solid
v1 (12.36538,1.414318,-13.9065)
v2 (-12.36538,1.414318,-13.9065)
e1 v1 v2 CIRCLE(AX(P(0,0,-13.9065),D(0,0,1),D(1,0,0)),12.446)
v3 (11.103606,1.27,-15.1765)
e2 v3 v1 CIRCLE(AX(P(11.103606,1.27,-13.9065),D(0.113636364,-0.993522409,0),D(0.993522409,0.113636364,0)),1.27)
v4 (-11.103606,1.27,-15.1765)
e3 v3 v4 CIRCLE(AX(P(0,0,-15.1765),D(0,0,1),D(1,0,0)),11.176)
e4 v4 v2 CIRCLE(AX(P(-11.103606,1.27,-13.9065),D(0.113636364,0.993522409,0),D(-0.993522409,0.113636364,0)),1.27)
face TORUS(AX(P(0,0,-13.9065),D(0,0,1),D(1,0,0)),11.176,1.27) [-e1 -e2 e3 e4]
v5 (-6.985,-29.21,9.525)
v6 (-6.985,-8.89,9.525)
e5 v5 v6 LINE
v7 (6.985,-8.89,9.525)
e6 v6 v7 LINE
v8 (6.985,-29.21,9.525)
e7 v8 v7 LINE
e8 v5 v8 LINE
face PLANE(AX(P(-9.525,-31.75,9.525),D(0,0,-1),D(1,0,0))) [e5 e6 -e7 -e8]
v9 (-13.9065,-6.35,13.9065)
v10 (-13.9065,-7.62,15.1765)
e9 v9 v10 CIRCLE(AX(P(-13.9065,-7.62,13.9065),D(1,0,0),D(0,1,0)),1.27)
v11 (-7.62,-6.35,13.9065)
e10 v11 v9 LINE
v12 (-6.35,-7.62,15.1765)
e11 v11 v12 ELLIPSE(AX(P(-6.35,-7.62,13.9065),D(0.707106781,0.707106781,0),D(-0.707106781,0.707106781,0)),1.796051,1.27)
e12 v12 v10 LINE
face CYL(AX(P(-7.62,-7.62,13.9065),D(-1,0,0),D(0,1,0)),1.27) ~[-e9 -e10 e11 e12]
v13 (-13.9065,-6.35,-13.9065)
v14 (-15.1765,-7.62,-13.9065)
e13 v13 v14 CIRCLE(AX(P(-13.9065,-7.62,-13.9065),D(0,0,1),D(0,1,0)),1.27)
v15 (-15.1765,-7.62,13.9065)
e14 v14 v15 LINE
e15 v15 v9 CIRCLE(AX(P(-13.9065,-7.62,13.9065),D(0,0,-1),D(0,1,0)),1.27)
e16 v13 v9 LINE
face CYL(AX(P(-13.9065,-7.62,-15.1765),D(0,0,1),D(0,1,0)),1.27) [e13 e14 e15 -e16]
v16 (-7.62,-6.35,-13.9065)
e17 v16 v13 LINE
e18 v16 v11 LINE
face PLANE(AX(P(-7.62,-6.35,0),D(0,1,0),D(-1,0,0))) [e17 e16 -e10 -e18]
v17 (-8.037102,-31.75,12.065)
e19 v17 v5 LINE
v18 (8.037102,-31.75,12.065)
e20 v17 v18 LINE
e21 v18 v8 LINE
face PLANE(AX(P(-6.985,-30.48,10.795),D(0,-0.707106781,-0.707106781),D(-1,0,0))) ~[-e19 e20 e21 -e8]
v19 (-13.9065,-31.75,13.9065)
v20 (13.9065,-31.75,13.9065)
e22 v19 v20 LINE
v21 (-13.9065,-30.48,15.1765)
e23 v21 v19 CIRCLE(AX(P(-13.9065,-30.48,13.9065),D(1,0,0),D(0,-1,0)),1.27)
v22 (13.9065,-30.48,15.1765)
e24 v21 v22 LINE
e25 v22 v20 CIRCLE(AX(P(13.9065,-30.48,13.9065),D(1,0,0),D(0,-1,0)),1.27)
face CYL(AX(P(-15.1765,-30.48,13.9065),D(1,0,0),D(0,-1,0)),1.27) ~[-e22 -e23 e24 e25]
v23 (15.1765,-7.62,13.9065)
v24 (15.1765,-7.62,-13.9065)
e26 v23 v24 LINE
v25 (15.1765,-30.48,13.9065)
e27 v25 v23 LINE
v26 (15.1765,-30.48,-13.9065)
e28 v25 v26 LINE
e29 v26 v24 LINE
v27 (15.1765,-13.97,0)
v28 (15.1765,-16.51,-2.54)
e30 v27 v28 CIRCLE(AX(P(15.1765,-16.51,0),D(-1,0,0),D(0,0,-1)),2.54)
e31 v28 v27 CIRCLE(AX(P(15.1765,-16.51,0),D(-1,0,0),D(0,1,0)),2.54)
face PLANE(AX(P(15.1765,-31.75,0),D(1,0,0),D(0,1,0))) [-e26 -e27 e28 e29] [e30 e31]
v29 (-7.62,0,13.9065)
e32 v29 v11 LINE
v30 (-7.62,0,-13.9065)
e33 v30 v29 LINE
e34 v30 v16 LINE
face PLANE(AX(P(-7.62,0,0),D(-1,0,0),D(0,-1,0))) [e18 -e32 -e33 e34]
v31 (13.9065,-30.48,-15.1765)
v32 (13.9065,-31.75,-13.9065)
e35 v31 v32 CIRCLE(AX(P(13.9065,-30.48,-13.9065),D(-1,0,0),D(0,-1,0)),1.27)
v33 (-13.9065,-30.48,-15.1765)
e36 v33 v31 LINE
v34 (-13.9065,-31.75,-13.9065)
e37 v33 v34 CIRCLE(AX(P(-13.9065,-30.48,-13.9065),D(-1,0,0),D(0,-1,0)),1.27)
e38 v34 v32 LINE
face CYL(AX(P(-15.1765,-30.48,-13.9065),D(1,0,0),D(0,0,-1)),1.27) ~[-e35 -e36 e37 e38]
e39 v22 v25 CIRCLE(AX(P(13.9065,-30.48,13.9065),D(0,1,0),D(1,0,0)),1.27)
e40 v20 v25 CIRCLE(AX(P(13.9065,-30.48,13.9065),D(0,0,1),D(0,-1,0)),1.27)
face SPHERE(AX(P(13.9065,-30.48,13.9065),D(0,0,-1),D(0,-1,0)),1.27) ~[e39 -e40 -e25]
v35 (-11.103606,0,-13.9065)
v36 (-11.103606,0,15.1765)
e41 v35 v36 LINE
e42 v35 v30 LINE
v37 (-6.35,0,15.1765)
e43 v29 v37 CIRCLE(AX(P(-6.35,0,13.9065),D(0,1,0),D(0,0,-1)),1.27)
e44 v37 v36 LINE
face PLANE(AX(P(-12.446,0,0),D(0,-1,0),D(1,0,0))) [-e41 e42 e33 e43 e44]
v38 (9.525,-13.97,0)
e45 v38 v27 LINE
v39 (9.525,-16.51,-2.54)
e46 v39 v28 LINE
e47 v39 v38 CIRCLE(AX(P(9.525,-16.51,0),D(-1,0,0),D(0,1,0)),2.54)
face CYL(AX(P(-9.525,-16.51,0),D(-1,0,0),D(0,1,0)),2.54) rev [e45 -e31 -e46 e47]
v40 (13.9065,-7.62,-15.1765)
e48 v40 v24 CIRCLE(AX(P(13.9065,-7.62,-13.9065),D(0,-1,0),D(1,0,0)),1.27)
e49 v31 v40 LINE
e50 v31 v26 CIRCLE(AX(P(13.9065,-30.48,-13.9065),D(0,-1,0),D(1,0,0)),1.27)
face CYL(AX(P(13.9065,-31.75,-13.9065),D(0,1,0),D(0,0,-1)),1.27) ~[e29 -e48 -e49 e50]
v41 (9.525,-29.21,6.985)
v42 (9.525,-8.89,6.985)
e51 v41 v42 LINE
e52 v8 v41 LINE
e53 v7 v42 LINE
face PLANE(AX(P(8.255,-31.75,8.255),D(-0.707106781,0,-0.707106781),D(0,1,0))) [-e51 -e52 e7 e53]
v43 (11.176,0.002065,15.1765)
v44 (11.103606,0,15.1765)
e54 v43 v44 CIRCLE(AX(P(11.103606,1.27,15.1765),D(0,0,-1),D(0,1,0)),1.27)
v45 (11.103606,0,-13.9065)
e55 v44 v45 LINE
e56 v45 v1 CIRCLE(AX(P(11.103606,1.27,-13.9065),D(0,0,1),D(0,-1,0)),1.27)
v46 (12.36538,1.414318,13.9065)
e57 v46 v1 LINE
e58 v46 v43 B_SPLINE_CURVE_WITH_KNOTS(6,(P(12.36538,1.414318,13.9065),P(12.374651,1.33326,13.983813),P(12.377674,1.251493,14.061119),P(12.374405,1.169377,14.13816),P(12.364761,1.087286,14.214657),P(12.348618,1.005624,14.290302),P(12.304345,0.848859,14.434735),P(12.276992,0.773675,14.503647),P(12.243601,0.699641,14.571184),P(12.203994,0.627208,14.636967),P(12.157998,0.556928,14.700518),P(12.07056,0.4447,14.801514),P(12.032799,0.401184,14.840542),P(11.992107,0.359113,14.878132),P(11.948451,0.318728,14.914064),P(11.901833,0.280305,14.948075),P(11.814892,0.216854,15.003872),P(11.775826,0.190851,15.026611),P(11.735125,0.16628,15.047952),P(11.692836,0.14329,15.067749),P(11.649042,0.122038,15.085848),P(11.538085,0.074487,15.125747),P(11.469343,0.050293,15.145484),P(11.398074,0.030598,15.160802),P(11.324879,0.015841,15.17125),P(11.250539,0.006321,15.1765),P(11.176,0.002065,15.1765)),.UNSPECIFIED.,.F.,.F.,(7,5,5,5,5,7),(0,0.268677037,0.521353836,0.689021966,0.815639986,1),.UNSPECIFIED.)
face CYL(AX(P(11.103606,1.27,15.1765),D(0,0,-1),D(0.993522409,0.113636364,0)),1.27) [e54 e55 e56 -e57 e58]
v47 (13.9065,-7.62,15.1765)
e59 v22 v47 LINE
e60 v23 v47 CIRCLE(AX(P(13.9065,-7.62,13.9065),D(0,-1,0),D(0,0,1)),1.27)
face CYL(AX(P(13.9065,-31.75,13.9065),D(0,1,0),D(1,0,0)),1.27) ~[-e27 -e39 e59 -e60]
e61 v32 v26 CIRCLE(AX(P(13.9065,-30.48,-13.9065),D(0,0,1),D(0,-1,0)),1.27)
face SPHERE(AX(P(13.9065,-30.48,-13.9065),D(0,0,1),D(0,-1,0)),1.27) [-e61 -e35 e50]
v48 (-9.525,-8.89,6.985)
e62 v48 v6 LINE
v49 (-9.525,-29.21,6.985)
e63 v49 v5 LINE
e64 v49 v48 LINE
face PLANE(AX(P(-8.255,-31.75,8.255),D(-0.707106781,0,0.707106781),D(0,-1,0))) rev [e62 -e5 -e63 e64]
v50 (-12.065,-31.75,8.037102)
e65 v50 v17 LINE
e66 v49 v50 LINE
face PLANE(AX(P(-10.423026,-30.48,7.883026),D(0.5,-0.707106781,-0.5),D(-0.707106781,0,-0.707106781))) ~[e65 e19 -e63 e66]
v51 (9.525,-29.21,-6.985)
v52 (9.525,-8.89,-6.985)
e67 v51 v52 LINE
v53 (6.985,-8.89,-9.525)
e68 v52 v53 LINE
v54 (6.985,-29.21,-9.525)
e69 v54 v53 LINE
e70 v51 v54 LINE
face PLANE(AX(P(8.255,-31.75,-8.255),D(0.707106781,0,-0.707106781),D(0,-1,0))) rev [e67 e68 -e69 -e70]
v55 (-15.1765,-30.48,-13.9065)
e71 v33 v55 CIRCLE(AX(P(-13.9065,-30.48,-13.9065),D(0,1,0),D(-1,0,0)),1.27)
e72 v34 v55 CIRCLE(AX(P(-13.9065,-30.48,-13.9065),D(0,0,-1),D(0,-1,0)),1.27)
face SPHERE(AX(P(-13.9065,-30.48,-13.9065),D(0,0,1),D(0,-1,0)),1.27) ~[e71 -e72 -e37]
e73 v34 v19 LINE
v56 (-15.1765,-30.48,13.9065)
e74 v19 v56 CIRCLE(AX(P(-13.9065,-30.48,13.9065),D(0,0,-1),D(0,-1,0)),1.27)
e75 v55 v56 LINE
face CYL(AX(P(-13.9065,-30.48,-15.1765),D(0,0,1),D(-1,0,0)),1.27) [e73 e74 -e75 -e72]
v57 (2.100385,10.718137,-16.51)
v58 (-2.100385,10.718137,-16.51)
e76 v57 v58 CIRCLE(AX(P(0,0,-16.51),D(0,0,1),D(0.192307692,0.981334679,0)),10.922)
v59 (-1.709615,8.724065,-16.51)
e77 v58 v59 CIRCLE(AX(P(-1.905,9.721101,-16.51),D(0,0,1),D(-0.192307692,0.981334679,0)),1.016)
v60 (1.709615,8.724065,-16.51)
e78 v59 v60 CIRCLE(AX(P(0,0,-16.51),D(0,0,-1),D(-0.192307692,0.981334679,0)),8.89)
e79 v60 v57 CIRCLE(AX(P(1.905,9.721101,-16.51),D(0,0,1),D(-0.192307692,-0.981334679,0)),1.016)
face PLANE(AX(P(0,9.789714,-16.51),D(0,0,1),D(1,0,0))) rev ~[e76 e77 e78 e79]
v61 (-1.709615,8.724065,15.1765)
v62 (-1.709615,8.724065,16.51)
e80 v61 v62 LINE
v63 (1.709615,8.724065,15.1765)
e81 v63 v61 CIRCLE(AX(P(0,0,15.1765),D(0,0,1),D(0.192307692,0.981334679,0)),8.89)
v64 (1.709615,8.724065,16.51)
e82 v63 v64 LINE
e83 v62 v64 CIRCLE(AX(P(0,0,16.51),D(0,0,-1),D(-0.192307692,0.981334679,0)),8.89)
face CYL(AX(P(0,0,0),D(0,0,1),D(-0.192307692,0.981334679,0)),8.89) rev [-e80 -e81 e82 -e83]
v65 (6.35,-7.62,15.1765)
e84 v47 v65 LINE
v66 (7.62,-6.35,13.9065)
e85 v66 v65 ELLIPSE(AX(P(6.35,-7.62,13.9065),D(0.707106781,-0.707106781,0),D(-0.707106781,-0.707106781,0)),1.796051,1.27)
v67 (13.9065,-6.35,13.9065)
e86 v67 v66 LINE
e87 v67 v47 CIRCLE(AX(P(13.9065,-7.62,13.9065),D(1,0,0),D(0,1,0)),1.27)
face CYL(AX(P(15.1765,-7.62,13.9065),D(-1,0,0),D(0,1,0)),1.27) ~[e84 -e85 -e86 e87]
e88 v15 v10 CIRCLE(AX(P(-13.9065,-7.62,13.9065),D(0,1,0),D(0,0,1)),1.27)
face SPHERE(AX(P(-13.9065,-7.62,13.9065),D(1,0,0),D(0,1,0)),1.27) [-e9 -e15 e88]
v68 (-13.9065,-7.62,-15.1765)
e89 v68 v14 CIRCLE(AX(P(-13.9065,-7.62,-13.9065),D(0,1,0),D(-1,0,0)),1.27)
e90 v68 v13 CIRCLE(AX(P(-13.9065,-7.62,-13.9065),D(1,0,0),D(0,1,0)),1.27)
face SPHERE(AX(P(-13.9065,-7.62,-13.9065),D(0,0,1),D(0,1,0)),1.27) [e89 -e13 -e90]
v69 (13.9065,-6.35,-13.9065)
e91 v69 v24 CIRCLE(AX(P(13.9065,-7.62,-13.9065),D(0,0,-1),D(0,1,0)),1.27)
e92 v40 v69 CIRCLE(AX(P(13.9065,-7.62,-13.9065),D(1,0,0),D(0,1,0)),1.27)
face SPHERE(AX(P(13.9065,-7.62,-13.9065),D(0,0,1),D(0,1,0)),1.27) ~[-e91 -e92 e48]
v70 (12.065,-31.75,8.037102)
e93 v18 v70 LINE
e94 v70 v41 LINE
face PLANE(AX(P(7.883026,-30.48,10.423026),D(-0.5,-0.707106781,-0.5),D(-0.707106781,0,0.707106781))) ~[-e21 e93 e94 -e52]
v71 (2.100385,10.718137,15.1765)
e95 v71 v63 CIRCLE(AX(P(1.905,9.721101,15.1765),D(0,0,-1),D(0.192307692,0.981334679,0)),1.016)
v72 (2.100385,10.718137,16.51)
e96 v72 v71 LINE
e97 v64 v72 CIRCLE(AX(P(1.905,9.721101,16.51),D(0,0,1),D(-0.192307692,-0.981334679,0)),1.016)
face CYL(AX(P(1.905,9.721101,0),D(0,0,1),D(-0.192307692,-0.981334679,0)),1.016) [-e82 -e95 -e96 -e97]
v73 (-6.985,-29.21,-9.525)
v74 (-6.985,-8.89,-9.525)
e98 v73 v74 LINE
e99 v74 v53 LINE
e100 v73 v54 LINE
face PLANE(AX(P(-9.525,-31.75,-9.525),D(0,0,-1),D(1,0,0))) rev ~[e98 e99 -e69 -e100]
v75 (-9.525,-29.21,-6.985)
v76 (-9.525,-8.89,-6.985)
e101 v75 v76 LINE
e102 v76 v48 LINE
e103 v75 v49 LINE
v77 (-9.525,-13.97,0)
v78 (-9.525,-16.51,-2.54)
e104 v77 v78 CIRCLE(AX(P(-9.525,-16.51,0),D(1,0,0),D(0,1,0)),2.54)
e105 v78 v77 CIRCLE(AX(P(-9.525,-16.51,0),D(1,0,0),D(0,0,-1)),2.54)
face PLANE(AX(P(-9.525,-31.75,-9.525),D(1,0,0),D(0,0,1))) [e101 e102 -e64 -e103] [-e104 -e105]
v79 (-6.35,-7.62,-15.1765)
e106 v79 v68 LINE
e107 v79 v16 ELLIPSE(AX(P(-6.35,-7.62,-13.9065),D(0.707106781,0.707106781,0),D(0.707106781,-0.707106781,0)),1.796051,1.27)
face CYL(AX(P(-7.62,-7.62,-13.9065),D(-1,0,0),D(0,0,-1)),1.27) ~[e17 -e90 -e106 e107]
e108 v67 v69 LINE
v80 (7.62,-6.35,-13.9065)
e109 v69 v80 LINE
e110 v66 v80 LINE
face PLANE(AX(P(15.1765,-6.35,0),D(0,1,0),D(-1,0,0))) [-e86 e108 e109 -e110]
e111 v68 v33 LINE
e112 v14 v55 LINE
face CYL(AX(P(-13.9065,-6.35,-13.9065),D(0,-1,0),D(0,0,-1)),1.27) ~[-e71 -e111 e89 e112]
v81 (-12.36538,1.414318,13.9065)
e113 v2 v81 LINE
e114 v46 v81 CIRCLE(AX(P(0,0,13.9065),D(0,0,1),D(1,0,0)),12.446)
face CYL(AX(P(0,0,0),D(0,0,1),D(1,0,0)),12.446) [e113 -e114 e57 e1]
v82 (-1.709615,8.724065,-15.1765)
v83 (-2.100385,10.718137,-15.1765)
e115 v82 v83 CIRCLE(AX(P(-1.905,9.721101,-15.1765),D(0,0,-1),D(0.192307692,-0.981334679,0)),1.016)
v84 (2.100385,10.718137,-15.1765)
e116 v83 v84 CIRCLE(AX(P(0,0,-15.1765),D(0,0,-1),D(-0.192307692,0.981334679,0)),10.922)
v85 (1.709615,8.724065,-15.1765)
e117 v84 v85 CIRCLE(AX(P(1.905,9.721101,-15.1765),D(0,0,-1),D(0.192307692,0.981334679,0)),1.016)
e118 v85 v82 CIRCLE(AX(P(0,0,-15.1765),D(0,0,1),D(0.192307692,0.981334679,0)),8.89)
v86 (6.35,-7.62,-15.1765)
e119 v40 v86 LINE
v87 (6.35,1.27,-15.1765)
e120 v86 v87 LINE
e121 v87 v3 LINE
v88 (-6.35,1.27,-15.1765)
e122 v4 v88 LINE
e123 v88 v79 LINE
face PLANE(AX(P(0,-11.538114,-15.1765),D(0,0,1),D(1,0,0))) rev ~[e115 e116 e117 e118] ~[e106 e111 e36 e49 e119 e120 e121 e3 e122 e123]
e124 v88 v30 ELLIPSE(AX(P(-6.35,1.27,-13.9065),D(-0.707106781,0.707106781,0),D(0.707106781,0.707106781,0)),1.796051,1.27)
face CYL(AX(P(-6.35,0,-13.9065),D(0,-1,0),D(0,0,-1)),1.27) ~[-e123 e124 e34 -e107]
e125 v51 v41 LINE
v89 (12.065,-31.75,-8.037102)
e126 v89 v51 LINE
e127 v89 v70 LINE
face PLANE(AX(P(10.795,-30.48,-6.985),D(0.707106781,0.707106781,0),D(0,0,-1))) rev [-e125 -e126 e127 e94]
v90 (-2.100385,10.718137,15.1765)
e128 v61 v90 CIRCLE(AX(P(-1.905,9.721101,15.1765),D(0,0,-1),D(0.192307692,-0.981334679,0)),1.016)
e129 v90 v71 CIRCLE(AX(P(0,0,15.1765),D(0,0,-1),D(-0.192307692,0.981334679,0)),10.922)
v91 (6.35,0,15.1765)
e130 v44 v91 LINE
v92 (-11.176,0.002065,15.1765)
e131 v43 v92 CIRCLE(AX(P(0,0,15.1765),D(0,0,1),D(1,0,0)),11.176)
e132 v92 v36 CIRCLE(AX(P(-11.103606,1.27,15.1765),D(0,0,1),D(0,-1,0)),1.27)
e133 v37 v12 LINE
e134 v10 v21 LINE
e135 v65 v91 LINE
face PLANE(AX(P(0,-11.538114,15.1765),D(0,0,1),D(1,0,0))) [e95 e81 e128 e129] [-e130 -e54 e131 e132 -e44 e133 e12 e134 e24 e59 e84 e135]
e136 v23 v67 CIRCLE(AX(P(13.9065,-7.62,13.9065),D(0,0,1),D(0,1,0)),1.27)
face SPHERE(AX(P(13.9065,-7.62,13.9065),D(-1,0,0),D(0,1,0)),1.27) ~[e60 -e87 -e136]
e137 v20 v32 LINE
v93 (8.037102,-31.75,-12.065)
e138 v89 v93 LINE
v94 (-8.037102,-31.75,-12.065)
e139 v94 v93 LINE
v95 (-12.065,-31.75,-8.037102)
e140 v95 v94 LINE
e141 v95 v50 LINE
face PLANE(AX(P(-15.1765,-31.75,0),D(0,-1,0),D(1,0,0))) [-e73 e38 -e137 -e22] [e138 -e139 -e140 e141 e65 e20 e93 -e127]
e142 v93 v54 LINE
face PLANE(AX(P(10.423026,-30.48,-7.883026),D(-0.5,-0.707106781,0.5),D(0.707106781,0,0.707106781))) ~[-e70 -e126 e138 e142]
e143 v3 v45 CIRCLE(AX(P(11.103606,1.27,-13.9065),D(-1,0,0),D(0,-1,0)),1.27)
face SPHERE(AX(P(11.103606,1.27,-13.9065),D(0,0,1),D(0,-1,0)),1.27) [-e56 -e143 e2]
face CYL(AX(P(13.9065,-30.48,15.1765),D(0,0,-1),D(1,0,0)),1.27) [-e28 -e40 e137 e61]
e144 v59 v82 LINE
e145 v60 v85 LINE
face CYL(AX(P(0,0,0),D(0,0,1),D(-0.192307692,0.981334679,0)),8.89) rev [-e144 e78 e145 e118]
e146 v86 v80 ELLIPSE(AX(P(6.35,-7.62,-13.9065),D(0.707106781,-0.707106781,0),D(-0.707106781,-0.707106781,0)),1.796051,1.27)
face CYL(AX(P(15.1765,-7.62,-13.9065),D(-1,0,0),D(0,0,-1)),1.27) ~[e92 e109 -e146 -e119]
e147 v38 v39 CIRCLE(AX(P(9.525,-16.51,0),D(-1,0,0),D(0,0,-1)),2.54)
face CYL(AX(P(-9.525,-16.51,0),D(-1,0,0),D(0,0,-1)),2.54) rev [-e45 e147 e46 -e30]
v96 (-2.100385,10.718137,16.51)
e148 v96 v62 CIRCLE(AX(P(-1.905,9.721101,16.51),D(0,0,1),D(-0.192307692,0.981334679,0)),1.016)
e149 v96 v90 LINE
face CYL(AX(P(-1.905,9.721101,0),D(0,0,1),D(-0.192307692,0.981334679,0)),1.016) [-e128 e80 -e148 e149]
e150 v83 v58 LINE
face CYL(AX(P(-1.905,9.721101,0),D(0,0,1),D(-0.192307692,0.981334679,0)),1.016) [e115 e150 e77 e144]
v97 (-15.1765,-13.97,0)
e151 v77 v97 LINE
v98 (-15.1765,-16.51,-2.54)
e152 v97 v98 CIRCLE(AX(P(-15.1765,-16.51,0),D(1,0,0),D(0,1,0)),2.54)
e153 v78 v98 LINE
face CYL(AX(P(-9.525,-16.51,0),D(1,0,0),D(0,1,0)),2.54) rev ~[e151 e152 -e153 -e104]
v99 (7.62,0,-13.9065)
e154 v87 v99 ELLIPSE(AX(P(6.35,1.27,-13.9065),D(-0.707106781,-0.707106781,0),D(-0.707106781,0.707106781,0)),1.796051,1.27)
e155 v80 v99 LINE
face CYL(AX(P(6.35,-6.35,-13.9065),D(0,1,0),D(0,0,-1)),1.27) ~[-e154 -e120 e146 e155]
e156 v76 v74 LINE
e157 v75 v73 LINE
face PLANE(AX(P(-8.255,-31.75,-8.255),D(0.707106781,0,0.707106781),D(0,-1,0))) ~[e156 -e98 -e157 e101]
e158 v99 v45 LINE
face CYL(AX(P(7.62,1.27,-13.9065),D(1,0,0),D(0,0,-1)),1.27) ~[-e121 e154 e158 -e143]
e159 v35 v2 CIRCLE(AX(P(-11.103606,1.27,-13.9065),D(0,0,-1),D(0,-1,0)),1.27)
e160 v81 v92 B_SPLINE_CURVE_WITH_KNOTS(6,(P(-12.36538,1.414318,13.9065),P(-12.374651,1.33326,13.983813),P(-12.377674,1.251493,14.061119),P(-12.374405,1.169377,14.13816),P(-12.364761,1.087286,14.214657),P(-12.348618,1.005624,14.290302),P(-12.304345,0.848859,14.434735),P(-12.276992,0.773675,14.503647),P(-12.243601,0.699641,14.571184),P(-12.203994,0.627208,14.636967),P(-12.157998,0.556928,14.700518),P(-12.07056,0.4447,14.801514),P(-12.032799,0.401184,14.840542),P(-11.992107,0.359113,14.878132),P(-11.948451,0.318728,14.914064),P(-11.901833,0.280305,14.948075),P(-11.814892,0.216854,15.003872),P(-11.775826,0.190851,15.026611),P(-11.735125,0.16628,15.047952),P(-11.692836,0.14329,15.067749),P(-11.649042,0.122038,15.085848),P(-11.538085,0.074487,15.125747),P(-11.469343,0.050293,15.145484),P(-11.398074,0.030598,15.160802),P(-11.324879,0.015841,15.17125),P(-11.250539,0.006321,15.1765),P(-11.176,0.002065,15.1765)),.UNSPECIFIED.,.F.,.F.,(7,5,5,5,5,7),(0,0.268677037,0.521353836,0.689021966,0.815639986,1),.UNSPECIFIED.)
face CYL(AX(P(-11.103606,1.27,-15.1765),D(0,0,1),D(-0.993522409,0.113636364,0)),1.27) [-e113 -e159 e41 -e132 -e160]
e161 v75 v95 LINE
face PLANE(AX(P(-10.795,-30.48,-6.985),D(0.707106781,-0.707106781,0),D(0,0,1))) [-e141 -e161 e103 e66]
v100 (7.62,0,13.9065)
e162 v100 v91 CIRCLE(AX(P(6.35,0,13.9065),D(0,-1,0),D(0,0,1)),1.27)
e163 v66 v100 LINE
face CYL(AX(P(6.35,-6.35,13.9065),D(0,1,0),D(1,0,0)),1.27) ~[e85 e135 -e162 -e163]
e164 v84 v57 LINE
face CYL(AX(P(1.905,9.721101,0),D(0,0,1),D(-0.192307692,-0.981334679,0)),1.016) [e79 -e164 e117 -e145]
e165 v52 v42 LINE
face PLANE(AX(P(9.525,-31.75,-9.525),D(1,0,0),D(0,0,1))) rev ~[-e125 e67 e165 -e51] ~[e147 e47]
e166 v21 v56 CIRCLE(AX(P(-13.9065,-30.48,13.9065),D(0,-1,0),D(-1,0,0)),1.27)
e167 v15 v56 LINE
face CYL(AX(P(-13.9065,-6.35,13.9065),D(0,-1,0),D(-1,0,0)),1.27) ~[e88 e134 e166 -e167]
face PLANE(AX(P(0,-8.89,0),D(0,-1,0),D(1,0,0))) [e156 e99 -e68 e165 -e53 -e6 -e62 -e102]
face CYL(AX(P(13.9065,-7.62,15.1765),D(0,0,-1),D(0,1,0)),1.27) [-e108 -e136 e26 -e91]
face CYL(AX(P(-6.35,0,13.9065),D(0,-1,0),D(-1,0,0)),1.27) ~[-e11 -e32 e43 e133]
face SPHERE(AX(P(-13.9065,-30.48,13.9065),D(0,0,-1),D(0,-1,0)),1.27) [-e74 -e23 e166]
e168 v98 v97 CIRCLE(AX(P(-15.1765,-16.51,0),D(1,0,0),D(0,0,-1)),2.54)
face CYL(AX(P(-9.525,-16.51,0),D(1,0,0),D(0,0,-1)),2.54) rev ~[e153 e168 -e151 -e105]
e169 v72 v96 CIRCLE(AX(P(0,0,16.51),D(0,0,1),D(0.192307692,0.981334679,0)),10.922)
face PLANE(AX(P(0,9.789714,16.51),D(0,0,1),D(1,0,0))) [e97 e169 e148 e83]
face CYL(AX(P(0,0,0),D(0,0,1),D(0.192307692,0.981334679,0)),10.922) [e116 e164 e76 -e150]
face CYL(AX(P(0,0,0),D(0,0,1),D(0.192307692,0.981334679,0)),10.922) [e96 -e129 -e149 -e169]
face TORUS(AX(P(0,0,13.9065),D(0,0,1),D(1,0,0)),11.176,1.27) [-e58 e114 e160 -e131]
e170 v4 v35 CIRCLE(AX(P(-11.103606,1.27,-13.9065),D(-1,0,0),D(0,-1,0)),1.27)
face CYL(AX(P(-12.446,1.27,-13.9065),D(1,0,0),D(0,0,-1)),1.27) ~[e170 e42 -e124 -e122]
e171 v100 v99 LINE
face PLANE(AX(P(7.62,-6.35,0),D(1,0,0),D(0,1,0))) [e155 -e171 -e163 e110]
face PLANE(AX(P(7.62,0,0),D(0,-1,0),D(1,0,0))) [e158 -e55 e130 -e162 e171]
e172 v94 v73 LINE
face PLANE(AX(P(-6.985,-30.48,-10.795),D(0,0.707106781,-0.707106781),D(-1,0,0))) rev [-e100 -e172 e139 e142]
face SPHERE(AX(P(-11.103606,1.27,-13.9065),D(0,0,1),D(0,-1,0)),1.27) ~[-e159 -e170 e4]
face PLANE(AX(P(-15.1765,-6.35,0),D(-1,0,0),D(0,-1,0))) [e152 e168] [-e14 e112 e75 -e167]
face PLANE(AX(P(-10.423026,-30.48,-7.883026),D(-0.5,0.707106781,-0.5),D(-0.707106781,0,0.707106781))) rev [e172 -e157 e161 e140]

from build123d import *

# Parameters (mm, degrees)
MAIN_BODY_EXTRUDE_DEPTH   = 15.1765
SLOT_EXTRUDE_DEPTH        = 16.51
SKETCH2_W                 = 19.05
SKETCH2_H                 = 19.05
FOOT_CONNECTION_CUT_DEPTH = 22.86
PINHOLE_CUT_DEPTH         = 25.4
FILLET1_R                 = 1.27
CHAMFER2_SIZE             = 2.54
CHAMFER1_SIZE             = 2.54


with BuildPart() as part:
    # Sketch1 → Main Body Extrude (new, symmetric)
    with BuildSketch(Plane.XY):
        with BuildLine():
            ThreePointArc((12.446, 0), (0, 12.446), (-12.446, 0))
            Line((-12.446, 0), (-7.62, 0))
            Line((-7.62, 0), (-7.62, -6.35))
            Line((-7.62, -6.35), (-15.1765, -6.35))
            Line((-15.1765, -6.35), (-15.1765, -31.75))
            Line((-15.1765, -31.75), (15.1765, -31.75))
            Line((15.1765, -31.75), (15.1765, -6.35))
            Line((15.1765, -6.35), (7.62, -6.35))
            Line((7.62, -6.35), (7.62, 0))
            Line((7.62, 0), (12.446, 0))
        make_face()
        with BuildLine():
            ThreePointArc((2.100384615, 10.71813736), (2.902036033, 9.525716711), (1.709615385, 8.724065293))
            ThreePointArc((1.709615385, 8.724065293), (0, 8.89), (-1.709615385, 8.724065293))
            ThreePointArc((-1.709615385, 8.724065293), (-2.902036033, 9.525716711), (-2.100384615, 10.71813736))
            ThreePointArc((-2.100384615, 10.71813736), (0, 10.922), (2.100384615, 10.71813736))
        make_face(mode=Mode.SUBTRACT)
    extrude(amount=MAIN_BODY_EXTRUDE_DEPTH, both=True)

    # Sketch1<4> → Slot Extrude (add, symmetric)
    with BuildSketch(Plane.XY):
        with BuildLine():
            ThreePointArc((-2.100384615, 10.71813736), (-2.902036033, 9.525716711), (-1.709615385, 8.724065293))
            ThreePointArc((-1.709615385, 8.724065293), (0, 8.89), (1.709615385, 8.724065293))
            ThreePointArc((1.709615385, 8.724065293), (2.902036033, 9.525716711), (2.100384615, 10.71813736))
            ThreePointArc((2.100384615, 10.71813736), (0, 10.922), (-2.100384615, 10.71813736))
        make_face()
    extrude(amount=SLOT_EXTRUDE_DEPTH, both=True)

    # Sketch2 → Foot Connection Cut (cut)
    with BuildSketch(Plane.XZ.offset(31.75)):
        Rectangle(SKETCH2_W, SKETCH2_H)
    extrude(amount=-FOOT_CONNECTION_CUT_DEPTH, mode=Mode.SUBTRACT)

    # Sketch4 → Pinhole Cut (cut, symmetric)
    with BuildSketch(Plane(origin=(-9.525, 0, 0), x_dir=(0, 0, -1), z_dir=(1, 0, 0))):
        with BuildLine():
            ThreePointArc((2.54, -16.51), (1.796051224, -14.713948776), (0, -13.97))
            ThreePointArc((0, -13.97), (-1.796051224, -18.306051224), (2.54, -16.51))
        make_face()
    extrude(amount=PINHOLE_CUT_DEPTH, both=True, mode=Mode.SUBTRACT)

    # Fillet1
    fillet1_edges = [part.edges().sort_by_distance(p)[0] for p in [
        (11.39825, -6.35, 15.1765),
        (12.446, 0, 0),
        (15.1765, -6.35, 0),
        (7.62, -3.175, 15.1765),
        (-11.39825, -6.35, 15.1765),
        (-15.1765, -6.35, 0),
        (-7.62, -3.175, 15.1765),
        (-12.446, 0, 0),
        (0, 12.446, 15.1765),
        (11.39825, -6.35, -15.1765),
        (7.62, -3.175, -15.1765),
        (10.033, 0, -15.1765),
        (-10.033, 0, -15.1765),
        (-7.62, -3.175, -15.1765),
        (-11.39825, -6.35, -15.1765),
        (0, 12.446, -15.1765),
        (15.1765, -31.75, 0),
        (-15.1765, -31.75, 0),
        (0, -31.75, 15.1765),
        (0, -31.75, -15.1765),
        (-15.1765, -19.05, -15.1765),
        (-15.1765, -19.05, 15.1765),
        (15.1765, -19.05, 15.1765),
        (15.1765, -19.05, -15.1765),
    ]]
    fillet(fillet1_edges, radius=FILLET1_R)

    # Chamfer2
    chamfer2_edges = [part.edges().sort_by_distance(p)[0] for p in [
        (-9.525, -20.32, -9.525),
        (-9.525, -20.32, 9.525),
        (9.525, -20.32, -9.525),
        (9.525, -20.32, 9.525),
    ]]
    chamfer(chamfer2_edges, length=CHAMFER2_SIZE)

    # Chamfer1
    chamfer1_edges = [part.edges().sort_by_distance(p)[0] for p in [
        (9.525, -31.75, 0),
        (0, -31.75, -9.525),
        (0, -31.75, 9.525),
        (-9.525, -31.75, 0),
        (-8.255, -31.75, 8.255),
        (8.255, -31.75, 8.255),
        (8.255, -31.75, -8.255),
        (-8.255, -31.75, -8.255),
    ]]
    chamfer(chamfer1_edges, length=CHAMFER1_SIZE)


solid = part.part
